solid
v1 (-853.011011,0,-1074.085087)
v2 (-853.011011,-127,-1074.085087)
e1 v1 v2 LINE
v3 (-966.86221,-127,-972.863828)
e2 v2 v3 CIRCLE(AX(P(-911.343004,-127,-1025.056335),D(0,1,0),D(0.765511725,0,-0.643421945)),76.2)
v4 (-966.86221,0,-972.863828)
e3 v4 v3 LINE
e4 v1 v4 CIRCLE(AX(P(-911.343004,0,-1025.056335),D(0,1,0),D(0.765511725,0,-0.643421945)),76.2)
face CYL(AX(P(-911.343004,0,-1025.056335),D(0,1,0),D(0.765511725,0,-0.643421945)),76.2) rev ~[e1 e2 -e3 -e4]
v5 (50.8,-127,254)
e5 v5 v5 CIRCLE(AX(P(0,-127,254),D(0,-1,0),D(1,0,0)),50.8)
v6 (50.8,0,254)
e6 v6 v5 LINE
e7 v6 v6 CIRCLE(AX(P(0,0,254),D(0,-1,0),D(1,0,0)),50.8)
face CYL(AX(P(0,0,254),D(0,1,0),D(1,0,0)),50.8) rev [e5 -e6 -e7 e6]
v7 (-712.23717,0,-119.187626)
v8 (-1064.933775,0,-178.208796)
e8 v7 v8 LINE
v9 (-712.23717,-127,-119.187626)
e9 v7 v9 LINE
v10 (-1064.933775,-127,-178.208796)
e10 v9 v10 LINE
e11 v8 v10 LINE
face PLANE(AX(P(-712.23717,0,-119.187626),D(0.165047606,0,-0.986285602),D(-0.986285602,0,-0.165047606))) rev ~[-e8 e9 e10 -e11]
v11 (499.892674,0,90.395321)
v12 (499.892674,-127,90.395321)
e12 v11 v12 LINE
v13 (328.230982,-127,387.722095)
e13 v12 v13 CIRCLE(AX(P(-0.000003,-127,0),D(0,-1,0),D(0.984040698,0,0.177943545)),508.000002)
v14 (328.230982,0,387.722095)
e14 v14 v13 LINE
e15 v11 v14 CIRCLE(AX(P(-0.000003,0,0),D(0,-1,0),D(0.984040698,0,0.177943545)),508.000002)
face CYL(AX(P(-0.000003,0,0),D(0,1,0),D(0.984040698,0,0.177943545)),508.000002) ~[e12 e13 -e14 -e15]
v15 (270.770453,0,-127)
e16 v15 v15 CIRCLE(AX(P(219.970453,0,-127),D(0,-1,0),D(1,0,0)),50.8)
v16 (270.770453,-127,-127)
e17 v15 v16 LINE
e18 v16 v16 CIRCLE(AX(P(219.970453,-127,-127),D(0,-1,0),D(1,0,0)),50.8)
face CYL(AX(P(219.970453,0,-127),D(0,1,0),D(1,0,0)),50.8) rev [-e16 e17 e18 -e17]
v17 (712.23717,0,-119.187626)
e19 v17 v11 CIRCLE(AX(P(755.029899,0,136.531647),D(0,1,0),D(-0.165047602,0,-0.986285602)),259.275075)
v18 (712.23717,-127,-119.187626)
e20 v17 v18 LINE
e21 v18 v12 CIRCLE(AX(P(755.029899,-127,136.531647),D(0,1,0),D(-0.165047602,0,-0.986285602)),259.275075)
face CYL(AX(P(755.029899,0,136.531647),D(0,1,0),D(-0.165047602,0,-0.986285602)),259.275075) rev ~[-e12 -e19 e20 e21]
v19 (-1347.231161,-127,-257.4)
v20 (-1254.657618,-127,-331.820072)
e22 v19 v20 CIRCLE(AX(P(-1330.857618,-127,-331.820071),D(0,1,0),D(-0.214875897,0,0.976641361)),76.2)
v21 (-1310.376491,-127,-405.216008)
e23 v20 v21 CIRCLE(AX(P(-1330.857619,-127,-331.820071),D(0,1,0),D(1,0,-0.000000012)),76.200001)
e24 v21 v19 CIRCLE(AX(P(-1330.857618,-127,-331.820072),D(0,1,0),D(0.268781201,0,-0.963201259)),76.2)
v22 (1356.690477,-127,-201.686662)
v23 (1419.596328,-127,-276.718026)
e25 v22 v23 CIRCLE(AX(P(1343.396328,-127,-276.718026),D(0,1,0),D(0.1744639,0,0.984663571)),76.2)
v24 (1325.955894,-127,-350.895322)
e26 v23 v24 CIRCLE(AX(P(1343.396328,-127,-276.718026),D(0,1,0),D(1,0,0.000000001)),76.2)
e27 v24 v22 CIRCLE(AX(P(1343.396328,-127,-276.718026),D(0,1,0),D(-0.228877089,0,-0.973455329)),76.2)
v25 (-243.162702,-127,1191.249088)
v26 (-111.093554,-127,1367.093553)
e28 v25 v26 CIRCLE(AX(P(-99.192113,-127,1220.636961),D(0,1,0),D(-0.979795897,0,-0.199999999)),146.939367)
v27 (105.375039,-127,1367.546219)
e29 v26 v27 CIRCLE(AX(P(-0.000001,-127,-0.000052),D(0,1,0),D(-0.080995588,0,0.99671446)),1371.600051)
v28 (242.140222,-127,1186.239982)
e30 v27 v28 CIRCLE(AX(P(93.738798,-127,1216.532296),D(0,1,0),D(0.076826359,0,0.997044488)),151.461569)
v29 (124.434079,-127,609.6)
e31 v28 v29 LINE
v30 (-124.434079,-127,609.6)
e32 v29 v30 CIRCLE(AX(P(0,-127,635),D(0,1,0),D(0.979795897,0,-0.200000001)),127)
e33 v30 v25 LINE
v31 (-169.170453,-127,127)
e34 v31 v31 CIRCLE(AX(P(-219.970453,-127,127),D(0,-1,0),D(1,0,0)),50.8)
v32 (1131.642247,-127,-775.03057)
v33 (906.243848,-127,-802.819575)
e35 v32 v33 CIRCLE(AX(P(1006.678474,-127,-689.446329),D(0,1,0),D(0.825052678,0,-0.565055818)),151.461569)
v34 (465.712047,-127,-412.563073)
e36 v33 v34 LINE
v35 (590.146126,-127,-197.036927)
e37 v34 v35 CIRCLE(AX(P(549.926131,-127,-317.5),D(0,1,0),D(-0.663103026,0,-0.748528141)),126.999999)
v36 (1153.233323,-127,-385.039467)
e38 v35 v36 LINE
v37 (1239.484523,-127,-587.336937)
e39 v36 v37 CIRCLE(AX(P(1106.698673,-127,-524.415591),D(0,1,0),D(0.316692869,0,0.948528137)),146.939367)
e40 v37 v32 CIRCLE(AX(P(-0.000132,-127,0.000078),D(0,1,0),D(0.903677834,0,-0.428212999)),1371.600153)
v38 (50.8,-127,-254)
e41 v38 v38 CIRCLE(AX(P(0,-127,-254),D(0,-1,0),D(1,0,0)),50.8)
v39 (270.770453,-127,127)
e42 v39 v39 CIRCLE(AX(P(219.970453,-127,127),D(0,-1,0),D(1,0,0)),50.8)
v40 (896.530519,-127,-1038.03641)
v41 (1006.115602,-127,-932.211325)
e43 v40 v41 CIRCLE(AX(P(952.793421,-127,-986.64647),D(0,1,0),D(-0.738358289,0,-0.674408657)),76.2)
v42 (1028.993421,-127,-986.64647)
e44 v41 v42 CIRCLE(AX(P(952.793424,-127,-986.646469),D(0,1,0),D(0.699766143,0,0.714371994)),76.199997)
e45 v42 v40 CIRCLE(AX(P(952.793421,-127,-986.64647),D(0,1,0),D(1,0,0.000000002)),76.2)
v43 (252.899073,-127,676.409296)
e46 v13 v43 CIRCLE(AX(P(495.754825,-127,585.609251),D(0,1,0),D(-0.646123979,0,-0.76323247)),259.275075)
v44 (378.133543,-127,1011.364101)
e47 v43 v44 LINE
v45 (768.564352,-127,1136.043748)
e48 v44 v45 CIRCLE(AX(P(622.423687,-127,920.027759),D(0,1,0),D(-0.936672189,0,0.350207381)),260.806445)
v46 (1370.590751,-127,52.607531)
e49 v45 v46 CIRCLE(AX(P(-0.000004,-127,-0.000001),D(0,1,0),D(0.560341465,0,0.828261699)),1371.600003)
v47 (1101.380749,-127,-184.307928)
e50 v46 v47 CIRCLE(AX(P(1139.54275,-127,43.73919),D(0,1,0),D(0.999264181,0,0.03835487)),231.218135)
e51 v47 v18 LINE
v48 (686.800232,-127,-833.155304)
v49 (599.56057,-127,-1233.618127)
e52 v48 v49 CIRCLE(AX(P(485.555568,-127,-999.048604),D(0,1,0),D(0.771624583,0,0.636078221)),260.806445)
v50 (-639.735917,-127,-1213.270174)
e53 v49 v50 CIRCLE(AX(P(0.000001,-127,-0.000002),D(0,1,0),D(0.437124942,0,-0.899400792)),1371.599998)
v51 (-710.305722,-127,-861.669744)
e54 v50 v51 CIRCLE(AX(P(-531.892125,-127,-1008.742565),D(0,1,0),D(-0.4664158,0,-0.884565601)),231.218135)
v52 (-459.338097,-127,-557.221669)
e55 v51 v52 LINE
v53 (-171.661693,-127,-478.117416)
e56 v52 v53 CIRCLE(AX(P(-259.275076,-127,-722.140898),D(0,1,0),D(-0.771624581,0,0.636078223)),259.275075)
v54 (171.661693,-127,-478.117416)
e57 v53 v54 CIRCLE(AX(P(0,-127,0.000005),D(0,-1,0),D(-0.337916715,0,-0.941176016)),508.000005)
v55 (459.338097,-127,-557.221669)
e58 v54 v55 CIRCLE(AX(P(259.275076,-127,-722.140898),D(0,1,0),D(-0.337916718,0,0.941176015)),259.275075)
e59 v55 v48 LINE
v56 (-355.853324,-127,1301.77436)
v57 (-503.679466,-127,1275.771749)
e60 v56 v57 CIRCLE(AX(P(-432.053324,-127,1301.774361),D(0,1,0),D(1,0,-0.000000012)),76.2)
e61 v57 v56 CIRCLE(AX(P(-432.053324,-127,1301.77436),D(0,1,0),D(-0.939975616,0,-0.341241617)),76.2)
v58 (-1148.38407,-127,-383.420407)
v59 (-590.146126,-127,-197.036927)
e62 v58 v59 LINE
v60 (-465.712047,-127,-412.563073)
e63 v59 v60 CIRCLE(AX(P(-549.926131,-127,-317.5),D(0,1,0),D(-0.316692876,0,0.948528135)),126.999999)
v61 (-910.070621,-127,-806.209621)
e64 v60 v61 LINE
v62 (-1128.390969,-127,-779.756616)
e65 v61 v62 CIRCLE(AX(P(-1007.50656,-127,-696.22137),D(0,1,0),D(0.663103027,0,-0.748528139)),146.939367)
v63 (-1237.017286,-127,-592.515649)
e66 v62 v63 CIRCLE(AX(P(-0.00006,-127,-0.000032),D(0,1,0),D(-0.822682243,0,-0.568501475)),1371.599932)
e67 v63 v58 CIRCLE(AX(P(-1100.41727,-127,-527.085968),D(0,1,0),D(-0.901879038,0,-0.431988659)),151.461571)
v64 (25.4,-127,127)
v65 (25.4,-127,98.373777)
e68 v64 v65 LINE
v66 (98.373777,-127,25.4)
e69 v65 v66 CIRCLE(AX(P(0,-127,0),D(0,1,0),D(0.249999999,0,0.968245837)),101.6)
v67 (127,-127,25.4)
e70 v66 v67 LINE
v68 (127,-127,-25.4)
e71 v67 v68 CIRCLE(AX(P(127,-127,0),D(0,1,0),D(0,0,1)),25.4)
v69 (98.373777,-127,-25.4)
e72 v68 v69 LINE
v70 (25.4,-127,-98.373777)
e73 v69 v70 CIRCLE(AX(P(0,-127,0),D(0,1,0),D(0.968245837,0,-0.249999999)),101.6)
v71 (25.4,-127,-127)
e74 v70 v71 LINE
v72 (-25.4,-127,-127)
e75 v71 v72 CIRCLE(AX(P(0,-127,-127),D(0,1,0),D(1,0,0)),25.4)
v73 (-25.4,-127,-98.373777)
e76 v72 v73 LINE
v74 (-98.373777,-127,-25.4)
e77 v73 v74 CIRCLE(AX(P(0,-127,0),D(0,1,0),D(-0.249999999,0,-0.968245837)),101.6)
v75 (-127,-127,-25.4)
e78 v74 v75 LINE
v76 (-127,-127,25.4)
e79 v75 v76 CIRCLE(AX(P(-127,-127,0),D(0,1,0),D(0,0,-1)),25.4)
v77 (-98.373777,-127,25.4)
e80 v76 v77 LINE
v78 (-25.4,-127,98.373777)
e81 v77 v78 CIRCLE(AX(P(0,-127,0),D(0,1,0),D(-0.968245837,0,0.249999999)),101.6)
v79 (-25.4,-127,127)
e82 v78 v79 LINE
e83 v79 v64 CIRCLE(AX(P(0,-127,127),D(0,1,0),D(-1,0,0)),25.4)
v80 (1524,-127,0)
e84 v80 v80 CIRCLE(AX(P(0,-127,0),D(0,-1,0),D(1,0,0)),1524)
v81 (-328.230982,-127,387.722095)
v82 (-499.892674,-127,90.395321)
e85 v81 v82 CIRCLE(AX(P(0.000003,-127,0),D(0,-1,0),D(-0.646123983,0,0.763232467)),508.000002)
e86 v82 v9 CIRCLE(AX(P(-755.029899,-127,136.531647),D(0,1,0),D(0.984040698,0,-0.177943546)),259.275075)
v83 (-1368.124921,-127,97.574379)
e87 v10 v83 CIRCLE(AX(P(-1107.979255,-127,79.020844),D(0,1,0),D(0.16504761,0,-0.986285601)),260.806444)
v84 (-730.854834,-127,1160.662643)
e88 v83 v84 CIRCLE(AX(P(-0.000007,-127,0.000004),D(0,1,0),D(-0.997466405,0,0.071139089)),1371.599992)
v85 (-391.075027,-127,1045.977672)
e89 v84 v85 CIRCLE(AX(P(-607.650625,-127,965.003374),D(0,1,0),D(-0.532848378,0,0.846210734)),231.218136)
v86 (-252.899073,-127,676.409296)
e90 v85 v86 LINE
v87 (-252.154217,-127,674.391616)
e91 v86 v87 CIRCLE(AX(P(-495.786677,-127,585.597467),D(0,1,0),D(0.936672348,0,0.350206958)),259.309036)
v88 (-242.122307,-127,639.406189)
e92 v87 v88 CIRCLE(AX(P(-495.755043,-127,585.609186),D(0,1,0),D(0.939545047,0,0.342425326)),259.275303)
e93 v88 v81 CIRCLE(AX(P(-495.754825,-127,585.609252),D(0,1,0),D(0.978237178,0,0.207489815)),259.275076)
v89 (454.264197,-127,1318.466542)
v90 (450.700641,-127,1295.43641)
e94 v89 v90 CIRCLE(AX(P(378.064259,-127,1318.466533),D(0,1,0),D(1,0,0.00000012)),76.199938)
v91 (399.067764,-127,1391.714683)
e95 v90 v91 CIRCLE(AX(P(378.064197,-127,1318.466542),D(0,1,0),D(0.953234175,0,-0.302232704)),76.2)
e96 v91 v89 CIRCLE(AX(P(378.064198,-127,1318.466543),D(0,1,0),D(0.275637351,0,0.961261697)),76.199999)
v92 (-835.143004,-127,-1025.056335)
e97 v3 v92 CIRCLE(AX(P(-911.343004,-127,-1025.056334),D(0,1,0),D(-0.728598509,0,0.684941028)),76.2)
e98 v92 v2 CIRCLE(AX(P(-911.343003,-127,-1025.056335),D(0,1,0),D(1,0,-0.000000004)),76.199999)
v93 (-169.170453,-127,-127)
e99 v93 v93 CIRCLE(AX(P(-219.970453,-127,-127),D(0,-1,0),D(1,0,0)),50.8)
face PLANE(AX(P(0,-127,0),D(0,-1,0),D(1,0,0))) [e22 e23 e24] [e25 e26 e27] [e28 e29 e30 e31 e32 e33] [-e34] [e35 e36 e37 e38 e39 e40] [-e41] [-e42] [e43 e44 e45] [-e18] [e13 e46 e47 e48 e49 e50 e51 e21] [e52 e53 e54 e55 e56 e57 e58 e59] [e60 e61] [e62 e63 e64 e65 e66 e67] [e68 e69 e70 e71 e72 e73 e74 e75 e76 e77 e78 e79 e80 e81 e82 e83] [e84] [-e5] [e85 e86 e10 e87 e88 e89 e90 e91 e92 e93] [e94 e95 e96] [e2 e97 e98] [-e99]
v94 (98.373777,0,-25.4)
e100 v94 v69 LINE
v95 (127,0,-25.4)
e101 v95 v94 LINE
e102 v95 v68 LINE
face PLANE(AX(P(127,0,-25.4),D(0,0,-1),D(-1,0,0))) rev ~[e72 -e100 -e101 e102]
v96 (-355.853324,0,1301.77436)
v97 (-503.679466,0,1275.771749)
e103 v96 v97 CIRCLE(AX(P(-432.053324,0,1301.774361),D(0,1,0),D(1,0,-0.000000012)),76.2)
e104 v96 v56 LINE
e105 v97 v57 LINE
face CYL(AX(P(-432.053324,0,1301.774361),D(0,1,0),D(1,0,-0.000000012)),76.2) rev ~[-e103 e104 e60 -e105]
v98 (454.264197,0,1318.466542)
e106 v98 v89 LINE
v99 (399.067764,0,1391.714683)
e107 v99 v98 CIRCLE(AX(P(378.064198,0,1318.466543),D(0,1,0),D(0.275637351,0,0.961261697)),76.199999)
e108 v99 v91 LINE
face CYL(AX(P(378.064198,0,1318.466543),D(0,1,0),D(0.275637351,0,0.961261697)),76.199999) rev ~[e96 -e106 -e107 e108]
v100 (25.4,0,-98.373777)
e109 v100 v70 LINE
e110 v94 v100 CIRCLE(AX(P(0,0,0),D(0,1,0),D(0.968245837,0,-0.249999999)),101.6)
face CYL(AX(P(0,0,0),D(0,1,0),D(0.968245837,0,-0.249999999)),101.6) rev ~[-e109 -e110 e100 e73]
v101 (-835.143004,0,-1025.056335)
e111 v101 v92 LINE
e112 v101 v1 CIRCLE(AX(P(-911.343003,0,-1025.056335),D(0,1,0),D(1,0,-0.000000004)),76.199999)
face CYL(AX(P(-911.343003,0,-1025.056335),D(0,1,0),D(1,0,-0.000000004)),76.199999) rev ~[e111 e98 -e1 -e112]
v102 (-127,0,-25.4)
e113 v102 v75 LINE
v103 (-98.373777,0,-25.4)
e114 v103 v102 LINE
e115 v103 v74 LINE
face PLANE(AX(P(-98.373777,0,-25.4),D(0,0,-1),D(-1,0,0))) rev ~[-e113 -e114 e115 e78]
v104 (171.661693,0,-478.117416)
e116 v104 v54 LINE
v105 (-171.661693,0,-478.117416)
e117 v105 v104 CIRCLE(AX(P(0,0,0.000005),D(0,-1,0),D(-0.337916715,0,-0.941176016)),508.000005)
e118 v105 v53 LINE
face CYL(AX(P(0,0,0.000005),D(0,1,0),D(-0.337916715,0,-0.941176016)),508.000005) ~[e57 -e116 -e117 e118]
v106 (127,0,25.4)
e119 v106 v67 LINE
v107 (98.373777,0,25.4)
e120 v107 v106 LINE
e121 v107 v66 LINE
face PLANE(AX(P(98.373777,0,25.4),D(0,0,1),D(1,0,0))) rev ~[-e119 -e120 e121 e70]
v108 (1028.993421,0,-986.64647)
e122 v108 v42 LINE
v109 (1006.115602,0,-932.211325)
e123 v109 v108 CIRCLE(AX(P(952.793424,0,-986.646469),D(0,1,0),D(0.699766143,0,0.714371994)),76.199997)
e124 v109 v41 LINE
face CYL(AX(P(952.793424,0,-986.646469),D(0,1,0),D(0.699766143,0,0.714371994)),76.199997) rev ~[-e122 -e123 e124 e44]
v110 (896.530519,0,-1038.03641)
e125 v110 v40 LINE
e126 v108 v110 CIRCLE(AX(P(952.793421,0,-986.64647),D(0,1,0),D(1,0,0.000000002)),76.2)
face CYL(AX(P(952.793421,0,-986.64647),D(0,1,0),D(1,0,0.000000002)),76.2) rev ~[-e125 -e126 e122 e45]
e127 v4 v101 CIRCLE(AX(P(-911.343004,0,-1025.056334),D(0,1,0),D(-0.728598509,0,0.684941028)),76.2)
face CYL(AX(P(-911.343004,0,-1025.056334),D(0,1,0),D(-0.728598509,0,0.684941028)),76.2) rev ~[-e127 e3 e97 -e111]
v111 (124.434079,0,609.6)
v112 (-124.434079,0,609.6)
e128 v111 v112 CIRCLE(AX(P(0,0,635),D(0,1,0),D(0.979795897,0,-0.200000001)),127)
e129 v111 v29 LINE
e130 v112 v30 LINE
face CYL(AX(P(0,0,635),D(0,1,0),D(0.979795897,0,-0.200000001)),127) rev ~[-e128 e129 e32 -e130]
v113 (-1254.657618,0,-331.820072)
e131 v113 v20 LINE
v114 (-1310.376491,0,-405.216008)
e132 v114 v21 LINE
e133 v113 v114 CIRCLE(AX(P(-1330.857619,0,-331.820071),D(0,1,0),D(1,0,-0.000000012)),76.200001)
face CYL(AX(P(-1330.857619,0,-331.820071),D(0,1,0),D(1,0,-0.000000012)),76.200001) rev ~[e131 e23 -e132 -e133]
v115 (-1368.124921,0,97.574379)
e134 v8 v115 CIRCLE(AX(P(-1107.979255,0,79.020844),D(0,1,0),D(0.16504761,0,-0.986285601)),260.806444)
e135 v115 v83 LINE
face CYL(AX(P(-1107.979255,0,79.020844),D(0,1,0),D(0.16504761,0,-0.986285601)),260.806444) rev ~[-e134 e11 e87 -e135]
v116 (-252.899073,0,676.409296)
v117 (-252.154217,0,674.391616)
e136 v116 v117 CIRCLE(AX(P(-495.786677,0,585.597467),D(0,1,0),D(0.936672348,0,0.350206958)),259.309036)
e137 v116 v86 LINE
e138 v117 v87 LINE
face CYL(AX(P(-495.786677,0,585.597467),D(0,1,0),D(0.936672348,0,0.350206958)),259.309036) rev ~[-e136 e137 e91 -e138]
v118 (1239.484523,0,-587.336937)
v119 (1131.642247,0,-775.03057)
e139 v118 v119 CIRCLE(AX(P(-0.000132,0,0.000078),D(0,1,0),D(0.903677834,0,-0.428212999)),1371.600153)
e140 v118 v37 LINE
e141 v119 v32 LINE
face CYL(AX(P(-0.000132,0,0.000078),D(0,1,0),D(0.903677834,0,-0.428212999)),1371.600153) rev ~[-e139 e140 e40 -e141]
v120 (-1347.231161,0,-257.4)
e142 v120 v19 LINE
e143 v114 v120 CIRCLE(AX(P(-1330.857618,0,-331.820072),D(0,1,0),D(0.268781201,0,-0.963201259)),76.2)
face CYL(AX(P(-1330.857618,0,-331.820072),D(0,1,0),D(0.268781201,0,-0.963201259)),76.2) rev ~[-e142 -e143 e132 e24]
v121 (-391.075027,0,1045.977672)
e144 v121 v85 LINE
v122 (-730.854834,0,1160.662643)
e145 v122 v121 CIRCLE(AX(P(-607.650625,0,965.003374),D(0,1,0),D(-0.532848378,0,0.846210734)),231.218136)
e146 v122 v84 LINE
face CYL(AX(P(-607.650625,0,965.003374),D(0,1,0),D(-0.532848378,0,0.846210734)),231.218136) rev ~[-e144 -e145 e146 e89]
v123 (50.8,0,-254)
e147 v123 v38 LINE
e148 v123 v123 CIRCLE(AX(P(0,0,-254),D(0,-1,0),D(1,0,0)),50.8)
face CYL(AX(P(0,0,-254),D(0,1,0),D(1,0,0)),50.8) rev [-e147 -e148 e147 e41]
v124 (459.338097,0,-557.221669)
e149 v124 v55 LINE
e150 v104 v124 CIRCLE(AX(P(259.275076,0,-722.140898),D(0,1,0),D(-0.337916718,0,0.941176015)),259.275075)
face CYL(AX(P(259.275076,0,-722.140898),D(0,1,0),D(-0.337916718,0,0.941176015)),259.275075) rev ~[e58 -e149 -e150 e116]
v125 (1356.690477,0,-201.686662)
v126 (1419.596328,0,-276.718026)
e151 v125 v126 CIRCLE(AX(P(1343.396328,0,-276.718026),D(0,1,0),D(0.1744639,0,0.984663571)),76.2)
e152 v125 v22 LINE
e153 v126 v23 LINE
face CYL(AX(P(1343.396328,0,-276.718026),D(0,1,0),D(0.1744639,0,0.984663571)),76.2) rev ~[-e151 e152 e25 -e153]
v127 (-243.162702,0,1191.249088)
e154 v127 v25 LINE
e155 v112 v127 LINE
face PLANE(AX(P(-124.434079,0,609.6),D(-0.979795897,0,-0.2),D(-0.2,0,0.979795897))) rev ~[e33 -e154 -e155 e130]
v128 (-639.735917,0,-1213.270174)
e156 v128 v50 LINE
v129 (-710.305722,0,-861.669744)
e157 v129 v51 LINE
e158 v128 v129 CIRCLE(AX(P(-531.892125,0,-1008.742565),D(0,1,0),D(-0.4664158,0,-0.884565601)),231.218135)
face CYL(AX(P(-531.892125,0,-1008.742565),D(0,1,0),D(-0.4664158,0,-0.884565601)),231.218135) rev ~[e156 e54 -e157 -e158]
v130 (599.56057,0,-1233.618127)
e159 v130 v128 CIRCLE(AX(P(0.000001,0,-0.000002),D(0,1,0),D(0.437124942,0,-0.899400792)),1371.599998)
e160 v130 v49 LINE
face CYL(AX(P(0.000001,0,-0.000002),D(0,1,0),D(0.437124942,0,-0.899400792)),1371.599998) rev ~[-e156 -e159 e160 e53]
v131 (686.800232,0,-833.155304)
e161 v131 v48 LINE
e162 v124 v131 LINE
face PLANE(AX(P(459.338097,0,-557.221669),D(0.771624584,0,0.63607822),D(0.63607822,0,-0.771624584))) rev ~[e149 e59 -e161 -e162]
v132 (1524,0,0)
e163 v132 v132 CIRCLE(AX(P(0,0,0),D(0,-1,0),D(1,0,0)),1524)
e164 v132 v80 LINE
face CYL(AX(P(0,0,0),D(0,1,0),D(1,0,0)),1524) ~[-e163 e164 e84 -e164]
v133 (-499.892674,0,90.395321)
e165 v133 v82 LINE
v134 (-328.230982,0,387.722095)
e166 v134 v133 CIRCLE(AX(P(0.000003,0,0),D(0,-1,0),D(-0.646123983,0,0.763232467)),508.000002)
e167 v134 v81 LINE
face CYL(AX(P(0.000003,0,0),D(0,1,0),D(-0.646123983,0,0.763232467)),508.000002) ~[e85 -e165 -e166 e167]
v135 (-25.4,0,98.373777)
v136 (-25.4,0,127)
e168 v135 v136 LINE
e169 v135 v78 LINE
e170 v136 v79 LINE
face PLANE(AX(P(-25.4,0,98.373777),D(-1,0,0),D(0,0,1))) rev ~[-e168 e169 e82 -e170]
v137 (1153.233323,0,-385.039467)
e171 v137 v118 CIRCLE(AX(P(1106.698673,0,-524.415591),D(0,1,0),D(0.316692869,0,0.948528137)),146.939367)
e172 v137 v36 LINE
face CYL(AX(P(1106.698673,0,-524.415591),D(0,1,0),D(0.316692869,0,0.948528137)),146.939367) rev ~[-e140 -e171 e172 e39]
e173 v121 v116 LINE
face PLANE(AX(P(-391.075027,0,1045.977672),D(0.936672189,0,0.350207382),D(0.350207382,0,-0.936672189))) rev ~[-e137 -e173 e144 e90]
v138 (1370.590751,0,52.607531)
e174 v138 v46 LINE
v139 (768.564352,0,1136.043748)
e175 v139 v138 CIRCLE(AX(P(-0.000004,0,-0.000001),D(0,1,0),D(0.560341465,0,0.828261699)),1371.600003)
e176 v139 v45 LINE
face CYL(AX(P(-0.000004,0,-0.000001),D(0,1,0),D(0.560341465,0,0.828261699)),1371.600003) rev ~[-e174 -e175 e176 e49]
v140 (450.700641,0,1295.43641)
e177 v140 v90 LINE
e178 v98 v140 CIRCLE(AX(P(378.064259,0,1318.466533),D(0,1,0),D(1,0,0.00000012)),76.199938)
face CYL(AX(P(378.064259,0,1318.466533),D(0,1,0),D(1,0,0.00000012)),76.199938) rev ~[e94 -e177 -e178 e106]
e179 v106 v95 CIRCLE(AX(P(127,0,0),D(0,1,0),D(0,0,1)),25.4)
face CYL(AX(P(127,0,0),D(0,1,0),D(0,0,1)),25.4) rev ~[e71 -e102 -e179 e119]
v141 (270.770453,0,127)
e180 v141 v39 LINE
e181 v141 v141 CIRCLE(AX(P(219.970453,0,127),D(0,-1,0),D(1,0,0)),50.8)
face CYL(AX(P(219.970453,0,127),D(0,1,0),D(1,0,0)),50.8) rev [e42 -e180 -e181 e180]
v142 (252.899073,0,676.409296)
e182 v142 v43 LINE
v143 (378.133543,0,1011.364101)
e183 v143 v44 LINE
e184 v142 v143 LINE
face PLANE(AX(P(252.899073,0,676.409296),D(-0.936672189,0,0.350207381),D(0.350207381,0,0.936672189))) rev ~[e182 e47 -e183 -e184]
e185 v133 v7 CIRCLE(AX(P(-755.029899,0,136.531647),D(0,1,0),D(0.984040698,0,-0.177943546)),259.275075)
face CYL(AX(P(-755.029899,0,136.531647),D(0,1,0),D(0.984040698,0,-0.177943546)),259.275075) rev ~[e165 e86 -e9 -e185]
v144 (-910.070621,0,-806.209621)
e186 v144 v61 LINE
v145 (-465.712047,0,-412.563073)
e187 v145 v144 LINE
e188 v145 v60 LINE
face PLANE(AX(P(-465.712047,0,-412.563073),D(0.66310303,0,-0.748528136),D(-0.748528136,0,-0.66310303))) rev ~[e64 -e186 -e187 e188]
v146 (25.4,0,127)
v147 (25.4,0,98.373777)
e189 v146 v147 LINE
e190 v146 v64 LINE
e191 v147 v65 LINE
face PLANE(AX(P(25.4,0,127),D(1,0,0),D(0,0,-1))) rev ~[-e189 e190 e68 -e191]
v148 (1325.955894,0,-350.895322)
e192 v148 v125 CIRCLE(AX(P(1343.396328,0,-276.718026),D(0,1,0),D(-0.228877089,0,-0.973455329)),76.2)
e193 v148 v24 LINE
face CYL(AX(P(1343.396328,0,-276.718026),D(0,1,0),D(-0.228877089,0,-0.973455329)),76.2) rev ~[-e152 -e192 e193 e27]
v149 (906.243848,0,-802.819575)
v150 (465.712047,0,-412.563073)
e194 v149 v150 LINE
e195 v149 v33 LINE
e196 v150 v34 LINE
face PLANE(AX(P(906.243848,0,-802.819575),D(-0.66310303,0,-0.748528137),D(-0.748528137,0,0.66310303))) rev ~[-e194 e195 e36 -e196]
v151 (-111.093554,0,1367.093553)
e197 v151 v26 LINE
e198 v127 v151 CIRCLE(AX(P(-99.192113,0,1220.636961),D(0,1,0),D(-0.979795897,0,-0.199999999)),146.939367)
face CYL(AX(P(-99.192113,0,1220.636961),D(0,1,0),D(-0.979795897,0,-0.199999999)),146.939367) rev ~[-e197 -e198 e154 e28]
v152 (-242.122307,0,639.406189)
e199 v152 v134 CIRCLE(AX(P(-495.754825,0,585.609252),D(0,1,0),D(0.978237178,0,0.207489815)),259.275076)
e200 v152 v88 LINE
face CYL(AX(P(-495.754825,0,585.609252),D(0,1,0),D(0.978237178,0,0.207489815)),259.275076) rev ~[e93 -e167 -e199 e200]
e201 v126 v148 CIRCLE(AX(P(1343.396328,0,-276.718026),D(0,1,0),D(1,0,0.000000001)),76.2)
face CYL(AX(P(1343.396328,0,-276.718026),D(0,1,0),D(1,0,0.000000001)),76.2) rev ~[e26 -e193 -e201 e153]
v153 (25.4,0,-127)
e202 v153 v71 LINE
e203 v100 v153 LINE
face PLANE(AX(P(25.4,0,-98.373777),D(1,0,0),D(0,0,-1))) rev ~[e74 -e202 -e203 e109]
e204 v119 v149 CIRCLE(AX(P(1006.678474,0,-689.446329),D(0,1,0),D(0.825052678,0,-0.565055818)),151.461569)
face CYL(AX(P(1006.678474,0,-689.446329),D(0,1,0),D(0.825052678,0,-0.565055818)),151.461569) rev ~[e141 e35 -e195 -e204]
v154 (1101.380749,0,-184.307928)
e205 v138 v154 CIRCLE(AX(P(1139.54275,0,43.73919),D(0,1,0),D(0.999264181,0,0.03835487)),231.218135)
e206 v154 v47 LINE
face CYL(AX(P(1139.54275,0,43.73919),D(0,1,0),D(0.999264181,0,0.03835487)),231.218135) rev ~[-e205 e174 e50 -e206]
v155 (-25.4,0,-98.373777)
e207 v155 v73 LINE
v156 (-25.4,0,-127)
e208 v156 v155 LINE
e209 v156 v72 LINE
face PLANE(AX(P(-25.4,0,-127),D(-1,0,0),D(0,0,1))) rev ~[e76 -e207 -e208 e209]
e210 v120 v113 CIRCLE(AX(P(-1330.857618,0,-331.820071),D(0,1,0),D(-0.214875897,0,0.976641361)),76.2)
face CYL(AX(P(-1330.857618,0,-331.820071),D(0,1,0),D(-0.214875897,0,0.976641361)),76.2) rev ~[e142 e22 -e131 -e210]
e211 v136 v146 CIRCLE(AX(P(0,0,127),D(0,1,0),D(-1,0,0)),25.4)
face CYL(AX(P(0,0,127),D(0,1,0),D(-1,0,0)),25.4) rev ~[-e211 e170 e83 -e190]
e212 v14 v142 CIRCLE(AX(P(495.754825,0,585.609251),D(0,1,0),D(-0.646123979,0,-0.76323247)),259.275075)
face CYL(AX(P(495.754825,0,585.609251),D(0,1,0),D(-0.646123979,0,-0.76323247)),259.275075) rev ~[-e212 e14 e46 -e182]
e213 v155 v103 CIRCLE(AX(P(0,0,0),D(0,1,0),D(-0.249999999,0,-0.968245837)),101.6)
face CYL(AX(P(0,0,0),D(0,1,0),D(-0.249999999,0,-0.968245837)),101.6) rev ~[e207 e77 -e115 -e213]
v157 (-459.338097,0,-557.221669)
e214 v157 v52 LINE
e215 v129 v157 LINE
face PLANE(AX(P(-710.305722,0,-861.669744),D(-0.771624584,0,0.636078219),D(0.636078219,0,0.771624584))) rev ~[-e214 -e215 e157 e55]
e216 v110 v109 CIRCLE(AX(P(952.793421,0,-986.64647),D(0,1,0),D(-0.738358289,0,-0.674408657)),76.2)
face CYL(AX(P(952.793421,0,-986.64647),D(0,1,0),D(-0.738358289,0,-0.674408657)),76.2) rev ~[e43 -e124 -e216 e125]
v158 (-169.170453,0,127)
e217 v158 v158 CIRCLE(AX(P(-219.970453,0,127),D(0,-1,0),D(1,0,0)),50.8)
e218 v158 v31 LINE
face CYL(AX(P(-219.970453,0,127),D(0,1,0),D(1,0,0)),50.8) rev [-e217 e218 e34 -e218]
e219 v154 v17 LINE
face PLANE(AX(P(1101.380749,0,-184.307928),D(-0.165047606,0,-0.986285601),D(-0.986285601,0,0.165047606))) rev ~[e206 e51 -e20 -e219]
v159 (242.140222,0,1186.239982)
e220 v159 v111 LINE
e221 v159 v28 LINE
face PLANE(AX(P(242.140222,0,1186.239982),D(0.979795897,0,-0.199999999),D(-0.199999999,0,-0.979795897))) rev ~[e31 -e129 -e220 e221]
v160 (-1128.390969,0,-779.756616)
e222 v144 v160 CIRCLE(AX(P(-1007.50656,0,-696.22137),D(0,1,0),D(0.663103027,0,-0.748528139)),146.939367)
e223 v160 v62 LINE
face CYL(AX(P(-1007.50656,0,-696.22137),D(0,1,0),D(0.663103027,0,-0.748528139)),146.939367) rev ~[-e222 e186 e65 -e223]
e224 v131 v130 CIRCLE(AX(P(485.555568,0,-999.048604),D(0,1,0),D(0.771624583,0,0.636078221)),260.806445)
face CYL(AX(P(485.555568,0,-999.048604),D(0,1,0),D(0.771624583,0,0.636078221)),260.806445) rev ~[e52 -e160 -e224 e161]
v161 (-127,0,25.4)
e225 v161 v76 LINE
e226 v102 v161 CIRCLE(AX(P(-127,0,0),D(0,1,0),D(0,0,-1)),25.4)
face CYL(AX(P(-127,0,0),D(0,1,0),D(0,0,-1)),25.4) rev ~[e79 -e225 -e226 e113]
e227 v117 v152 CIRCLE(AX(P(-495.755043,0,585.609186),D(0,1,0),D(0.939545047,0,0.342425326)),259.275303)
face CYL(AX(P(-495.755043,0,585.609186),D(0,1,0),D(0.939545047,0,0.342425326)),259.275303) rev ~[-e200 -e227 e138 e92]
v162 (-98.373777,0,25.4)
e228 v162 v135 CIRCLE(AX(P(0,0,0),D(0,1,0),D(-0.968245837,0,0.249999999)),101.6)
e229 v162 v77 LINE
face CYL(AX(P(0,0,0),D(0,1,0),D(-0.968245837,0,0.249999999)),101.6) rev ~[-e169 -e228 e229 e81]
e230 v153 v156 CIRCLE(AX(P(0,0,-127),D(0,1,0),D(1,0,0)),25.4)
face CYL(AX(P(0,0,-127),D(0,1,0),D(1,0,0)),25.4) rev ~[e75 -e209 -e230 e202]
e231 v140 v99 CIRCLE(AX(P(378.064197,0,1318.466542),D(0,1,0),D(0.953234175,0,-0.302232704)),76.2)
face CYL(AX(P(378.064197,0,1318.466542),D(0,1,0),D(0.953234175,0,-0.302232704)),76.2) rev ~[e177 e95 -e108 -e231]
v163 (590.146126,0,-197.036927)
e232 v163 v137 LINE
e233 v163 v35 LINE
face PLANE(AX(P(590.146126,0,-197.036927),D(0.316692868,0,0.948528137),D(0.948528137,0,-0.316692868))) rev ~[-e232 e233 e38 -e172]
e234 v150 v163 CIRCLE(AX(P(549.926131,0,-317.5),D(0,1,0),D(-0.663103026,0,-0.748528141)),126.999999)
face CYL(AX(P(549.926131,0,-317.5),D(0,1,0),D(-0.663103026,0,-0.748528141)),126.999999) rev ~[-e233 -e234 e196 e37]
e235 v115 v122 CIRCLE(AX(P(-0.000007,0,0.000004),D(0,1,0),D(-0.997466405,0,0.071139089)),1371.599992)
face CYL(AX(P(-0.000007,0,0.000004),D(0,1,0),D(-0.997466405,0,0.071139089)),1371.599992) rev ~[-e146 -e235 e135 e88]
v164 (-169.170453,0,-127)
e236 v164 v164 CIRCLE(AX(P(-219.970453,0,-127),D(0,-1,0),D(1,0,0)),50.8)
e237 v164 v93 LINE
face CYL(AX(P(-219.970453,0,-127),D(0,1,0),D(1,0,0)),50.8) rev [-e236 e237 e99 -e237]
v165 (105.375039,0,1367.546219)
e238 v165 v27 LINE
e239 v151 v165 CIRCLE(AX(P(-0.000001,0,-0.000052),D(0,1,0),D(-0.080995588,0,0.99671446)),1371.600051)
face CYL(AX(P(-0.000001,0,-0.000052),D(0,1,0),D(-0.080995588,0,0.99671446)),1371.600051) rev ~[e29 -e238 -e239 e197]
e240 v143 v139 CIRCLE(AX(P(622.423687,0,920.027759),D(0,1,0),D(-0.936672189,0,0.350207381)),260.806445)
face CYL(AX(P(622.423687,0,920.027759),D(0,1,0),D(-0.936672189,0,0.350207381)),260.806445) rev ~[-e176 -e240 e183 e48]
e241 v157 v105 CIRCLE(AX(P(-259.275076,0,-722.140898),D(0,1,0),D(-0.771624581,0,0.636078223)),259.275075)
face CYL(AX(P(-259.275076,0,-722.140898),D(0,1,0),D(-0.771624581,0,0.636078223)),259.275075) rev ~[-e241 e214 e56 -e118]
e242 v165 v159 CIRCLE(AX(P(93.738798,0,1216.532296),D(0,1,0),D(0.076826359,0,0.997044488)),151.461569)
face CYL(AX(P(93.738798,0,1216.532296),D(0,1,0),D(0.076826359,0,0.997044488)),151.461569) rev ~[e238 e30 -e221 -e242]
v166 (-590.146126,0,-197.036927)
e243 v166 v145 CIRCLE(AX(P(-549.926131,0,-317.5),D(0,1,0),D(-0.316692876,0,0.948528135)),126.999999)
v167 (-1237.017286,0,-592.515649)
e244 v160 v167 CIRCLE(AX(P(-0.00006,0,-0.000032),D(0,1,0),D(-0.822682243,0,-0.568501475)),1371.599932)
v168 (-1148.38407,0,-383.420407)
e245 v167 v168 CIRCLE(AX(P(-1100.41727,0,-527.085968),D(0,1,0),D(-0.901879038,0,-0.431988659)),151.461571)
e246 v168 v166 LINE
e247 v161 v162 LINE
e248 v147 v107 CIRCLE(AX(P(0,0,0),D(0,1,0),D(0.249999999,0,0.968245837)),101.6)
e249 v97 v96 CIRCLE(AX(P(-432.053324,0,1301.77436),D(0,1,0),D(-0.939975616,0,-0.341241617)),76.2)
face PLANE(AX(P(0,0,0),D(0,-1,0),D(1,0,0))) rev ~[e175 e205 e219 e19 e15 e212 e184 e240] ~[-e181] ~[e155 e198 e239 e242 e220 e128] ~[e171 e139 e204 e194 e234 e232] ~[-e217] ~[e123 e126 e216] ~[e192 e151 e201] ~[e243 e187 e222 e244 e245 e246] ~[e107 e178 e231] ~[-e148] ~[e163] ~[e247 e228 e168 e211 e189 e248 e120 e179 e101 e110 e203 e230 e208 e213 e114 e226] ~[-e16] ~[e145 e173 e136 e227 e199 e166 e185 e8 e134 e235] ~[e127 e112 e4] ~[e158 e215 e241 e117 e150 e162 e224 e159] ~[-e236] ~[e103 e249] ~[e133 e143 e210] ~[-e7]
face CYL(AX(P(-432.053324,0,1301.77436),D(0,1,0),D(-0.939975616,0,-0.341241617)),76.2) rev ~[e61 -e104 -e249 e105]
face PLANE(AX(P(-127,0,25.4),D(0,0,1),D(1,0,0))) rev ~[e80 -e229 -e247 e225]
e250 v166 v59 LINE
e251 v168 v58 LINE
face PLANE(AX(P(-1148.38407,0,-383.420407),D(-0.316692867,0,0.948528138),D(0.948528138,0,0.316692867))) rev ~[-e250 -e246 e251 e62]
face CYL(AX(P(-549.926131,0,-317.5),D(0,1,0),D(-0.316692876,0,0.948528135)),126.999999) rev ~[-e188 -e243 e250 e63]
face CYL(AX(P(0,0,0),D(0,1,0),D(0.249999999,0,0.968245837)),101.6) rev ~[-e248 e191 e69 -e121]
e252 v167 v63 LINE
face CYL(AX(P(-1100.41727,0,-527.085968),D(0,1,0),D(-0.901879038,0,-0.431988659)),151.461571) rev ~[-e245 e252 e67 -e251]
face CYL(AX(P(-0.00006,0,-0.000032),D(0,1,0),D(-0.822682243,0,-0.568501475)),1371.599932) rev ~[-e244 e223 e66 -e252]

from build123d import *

# Parameters (mm, degrees)
F0_R     = 1524
F0_R_2   = 381
F0_R_3   = 50.8
F1_DEPTH = 127


with BuildPart() as f1:
    # F0 (on Front) → F1 (new body)
    with BuildSketch(Plane.XZ):
        Circle(F0_R)
        with BuildLine():
            ThreePointArc((-853.011011, -1074.085087), (-961.973171, -1082.003909), (-966.86221, -972.863828))
            ThreePointArc((-966.86221, -972.863828), (-883.272766, -954.21495), (-835.143004, -1025.056335))
            ThreePointArc((-835.143004, -1025.056335), (-839.749227, -1051.147925), (-853.011011, -1074.085087))
        make_face(mode=Mode.SUBTRACT)
        with BuildLine():
            Line((-710.305722, -861.669744), (-459.338097, -557.221669))
            ThreePointArc((-459.338097, -557.221669), (-328.018083, -472.144971), (-171.661693, -478.117416))
            ThreePointArc((-171.661693, -478.117416), (0, -508), (171.661693, -478.117416))
            ThreePointArc((171.661693, -478.117416), (328.018083, -472.144971), (459.338097, -557.221669))
            Line((459.338097, -557.221669), (686.800232, -833.155304))
            ThreePointArc((686.800232, -833.155304), (740.385327, -1054.562526), (599.56057, -1233.618127))
            ThreePointArc((599.56057, -1233.618127), (-22.517203, -1371.415158), (-639.735917, -1213.270174))
            ThreePointArc((-639.735917, -1213.270174), (-758.589145, -1054.242977), (-710.305722, -861.669744))
        make_face(mode=Mode.SUBTRACT)
        with BuildLine():
            ThreePointArc((-1128.390969, -779.756616), (-1186.403746, -688.282436), (-1237.017286, -592.515649))
            ThreePointArc((-1237.017286, -592.515649), (-1239.867736, -467.974421), (-1148.38407, -383.420407))
            Line((-1148.38407, -383.420407), (-590.146126, -197.036927))
            ThreePointArc((-590.146126, -197.036927), (-439.940905, -254), (-465.712047, -412.563073))
            Line((-465.712047, -412.563073), (-910.070621, -806.209621))
            ThreePointArc((-910.070621, -806.209621), (-1025.181346, -842.093847), (-1128.390969, -779.756616))
        make_face(mode=Mode.SUBTRACT)
        with BuildLine():
            ThreePointArc((-1310.376491, -405.216008), (-1404.794153, -350.25452), (-1347.231161, -257.4))
            ThreePointArc((-1347.231161, -257.4), (-1283.114681, -272.431083), (-1254.657618, -331.820072))
            ThreePointArc((-1254.657618, -331.820072), (-1270.165354, -377.894892), (-1310.376491, -405.216008))
        make_face(mode=Mode.SUBTRACT)
        with BuildLine():
            ThreePointArc((896.530519, -1038.03641), (899.860453, -931.832777), (1006.115602, -932.211325))
            ThreePointArc((1006.115602, -932.211325), (1023.041518, -957.122837), (1028.993421, -986.64647))
            ThreePointArc((1028.993421, -986.64647), (980.354325, -1057.687561), (896.530519, -1038.03641))
        make_face(mode=Mode.SUBTRACT)
        with BuildLine():
            ThreePointArc((1131.642247, -775.03057), (1025.211605, -839.769747), (906.243848, -802.819575))
            Line((906.243848, -802.819575), (465.712047, -412.563073))
            ThreePointArc((465.712047, -412.563073), (439.940905, -254), (590.146126, -197.036927))
            Line((590.146126, -197.036927), (1153.233323, -385.039467))
            ThreePointArc((1153.233323, -385.039467), (1241.865337, -466.786166), (1239.484523, -587.336937))
            ThreePointArc((1239.484523, -587.336937), (1189.271947, -683.314565), (1131.642247, -775.03057))
        make_face(mode=Mode.SUBTRACT)
        with BuildLine():
            ThreePointArc((1419.596328, -276.718026), (1390.711648, -336.448257), (1325.955894, -350.895322))
            ThreePointArc((1325.955894, -350.895322), (1268.763199, -261.344802), (1356.690477, -201.686662))
            ThreePointArc((1356.690477, -201.686662), (1401.789196, -227.761791), (1419.596328, -276.718026))
        make_face(mode=Mode.SUBTRACT)
        with BuildLine():
            ThreePointArc((-1368.124921, 97.574379), (-1176.421765, 705.208049), (-730.854834, 1160.662643))
            ThreePointArc((-730.854834, 1160.662643), (-533.706628, 1184.078959), (-391.075027, 1045.977672))
            Line((-391.075027, 1045.977672), (-252.899073, 676.409296))
            ThreePointArc((-252.899073, 676.409296), (-252.524553, 675.401228), (-252.154217, 674.391616))
            ThreePointArc((-252.154217, 674.391616), (-246.523627, 657.075147), (-242.122307, 639.406189))
            ThreePointArc((-242.122307, 639.406189), (-250.439944, 501.679675), (-328.230982, 387.722095))
            ThreePointArc((-328.230982, 387.722095), (-439.940905, 254), (-499.892674, 90.395321))
            ThreePointArc((-499.892674, 90.395321), (-572.89858, -47.999507), (-712.23717, -119.187626))
            Line((-712.23717, -119.187626), (-1064.933775, -178.208796))
            ThreePointArc((-1064.933775, -178.208796), (-1283.470601, -113.911239), (-1368.124921, 97.574379))
        make_face(mode=Mode.SUBTRACT)
        with BuildLine():
            ThreePointArc((-111.093554, 1367.093553), (-2.868201, 1371.597001), (105.375039, 1367.546219))
            ThreePointArc((105.375039, 1367.546219), (214.656131, 1307.744168), (242.140222, 1186.239982))
            Line((242.140222, 1186.239982), (124.434079, 609.6))
            ThreePointArc((124.434079, 609.6), (0, 508), (-124.434079, 609.6))
            Line((-124.434079, 609.6), (-243.162702, 1191.249088))
            ThreePointArc((-243.162702, 1191.249088), (-216.683991, 1308.880013), (-111.093554, 1367.093553))
        make_face(mode=Mode.SUBTRACT)
        with BuildLine():
            ThreePointArc((-355.853324, 1301.77436), (-418.852415, 1226.726536), (-503.679466, 1275.771749))
            ThreePointArc((-503.679466, 1275.771749), (-445.254233, 1376.822185), (-355.853324, 1301.77436))
        make_face(mode=Mode.SUBTRACT)
        Circle(F0_R_2, mode=Mode.SUBTRACT)
        with BuildLine():
            ThreePointArc((768.564352, 1136.043748), (1198.938967, 666.207109), (1370.590751, 52.607531))
            ThreePointArc((1370.590751, 52.607531), (1292.295773, -129.835982), (1101.380749, -184.307928))
            Line((1101.380749, -184.307928), (712.23717, -119.187626))
            ThreePointArc((712.23717, -119.187626), (572.89858, -47.999507), (499.892674, 90.395321))
            ThreePointArc((499.892674, 90.395321), (439.940905, 254), (328.230982, 387.722095))
            ThreePointArc((328.230982, 387.722095), (244.880498, 520.144478), (252.899073, 676.409296))
            Line((252.899073, 676.409296), (378.133543, 1011.364101))
            ThreePointArc((378.133543, 1011.364101), (543.085274, 1168.473765), (768.564352, 1136.043748))
        make_face(mode=Mode.SUBTRACT)
        with BuildLine():
            ThreePointArc((454.264197, 1318.466542), (453.368039, 1306.81444), (450.700641, 1295.43641))
            ThreePointArc((450.700641, 1295.43641), (310.911465, 1282.453342), (399.067764, 1391.714683))
            ThreePointArc((399.067764, 1391.714683), (438.920223, 1364.324847), (454.264197, 1318.466542))
        make_face(mode=Mode.SUBTRACT)
        Circle(F0_R_2)
        with Locations((-219.970453, -127)):
            Circle(F0_R_3, mode=Mode.SUBTRACT)
        with Locations((0, -254)):
            Circle(F0_R_3, mode=Mode.SUBTRACT)
        with Locations((219.970453, -127)):
            Circle(F0_R_3, mode=Mode.SUBTRACT)
        with Locations((-219.970453, 127)):
            Circle(F0_R_3, mode=Mode.SUBTRACT)
        with BuildLine():
            ThreePointArc((-98.373777, 25.4), (-71.842049, 71.842049), (-25.4, 98.373777))
            Line((-25.4, 98.373777), (-25.4, 127))
            ThreePointArc((-25.4, 127), (0, 152.4), (25.4, 127))
            Line((25.4, 127), (25.4, 98.373777))
            ThreePointArc((25.4, 98.373777), (71.842049, 71.842049), (98.373777, 25.4))
            Line((98.373777, 25.4), (127, 25.4))
            ThreePointArc((127, 25.4), (152.4, 0), (127, -25.4))
            Line((127, -25.4), (98.373777, -25.4))
            ThreePointArc((98.373777, -25.4), (71.842049, -71.842049), (25.4, -98.373777))
            Line((25.4, -98.373777), (25.4, -127))
            ThreePointArc((25.4, -127), (0, -152.4), (-25.4, -127))
            Line((-25.4, -127), (-25.4, -98.373777))
            ThreePointArc((-25.4, -98.373777), (-71.842049, -71.842049), (-98.373777, -25.4))
            Line((-98.373777, -25.4), (-127, -25.4))
            ThreePointArc((-127, -25.4), (-152.4, 0), (-127, 25.4))
            Line((-127, 25.4), (-98.373777, 25.4))
        make_face(mode=Mode.SUBTRACT)
        with Locations((219.970453, 127)):
            Circle(F0_R_3, mode=Mode.SUBTRACT)
        with Locations((0, 254)):
            Circle(F0_R_3, mode=Mode.SUBTRACT)
    extrude(amount=F1_DEPTH)


solid = f1.part
